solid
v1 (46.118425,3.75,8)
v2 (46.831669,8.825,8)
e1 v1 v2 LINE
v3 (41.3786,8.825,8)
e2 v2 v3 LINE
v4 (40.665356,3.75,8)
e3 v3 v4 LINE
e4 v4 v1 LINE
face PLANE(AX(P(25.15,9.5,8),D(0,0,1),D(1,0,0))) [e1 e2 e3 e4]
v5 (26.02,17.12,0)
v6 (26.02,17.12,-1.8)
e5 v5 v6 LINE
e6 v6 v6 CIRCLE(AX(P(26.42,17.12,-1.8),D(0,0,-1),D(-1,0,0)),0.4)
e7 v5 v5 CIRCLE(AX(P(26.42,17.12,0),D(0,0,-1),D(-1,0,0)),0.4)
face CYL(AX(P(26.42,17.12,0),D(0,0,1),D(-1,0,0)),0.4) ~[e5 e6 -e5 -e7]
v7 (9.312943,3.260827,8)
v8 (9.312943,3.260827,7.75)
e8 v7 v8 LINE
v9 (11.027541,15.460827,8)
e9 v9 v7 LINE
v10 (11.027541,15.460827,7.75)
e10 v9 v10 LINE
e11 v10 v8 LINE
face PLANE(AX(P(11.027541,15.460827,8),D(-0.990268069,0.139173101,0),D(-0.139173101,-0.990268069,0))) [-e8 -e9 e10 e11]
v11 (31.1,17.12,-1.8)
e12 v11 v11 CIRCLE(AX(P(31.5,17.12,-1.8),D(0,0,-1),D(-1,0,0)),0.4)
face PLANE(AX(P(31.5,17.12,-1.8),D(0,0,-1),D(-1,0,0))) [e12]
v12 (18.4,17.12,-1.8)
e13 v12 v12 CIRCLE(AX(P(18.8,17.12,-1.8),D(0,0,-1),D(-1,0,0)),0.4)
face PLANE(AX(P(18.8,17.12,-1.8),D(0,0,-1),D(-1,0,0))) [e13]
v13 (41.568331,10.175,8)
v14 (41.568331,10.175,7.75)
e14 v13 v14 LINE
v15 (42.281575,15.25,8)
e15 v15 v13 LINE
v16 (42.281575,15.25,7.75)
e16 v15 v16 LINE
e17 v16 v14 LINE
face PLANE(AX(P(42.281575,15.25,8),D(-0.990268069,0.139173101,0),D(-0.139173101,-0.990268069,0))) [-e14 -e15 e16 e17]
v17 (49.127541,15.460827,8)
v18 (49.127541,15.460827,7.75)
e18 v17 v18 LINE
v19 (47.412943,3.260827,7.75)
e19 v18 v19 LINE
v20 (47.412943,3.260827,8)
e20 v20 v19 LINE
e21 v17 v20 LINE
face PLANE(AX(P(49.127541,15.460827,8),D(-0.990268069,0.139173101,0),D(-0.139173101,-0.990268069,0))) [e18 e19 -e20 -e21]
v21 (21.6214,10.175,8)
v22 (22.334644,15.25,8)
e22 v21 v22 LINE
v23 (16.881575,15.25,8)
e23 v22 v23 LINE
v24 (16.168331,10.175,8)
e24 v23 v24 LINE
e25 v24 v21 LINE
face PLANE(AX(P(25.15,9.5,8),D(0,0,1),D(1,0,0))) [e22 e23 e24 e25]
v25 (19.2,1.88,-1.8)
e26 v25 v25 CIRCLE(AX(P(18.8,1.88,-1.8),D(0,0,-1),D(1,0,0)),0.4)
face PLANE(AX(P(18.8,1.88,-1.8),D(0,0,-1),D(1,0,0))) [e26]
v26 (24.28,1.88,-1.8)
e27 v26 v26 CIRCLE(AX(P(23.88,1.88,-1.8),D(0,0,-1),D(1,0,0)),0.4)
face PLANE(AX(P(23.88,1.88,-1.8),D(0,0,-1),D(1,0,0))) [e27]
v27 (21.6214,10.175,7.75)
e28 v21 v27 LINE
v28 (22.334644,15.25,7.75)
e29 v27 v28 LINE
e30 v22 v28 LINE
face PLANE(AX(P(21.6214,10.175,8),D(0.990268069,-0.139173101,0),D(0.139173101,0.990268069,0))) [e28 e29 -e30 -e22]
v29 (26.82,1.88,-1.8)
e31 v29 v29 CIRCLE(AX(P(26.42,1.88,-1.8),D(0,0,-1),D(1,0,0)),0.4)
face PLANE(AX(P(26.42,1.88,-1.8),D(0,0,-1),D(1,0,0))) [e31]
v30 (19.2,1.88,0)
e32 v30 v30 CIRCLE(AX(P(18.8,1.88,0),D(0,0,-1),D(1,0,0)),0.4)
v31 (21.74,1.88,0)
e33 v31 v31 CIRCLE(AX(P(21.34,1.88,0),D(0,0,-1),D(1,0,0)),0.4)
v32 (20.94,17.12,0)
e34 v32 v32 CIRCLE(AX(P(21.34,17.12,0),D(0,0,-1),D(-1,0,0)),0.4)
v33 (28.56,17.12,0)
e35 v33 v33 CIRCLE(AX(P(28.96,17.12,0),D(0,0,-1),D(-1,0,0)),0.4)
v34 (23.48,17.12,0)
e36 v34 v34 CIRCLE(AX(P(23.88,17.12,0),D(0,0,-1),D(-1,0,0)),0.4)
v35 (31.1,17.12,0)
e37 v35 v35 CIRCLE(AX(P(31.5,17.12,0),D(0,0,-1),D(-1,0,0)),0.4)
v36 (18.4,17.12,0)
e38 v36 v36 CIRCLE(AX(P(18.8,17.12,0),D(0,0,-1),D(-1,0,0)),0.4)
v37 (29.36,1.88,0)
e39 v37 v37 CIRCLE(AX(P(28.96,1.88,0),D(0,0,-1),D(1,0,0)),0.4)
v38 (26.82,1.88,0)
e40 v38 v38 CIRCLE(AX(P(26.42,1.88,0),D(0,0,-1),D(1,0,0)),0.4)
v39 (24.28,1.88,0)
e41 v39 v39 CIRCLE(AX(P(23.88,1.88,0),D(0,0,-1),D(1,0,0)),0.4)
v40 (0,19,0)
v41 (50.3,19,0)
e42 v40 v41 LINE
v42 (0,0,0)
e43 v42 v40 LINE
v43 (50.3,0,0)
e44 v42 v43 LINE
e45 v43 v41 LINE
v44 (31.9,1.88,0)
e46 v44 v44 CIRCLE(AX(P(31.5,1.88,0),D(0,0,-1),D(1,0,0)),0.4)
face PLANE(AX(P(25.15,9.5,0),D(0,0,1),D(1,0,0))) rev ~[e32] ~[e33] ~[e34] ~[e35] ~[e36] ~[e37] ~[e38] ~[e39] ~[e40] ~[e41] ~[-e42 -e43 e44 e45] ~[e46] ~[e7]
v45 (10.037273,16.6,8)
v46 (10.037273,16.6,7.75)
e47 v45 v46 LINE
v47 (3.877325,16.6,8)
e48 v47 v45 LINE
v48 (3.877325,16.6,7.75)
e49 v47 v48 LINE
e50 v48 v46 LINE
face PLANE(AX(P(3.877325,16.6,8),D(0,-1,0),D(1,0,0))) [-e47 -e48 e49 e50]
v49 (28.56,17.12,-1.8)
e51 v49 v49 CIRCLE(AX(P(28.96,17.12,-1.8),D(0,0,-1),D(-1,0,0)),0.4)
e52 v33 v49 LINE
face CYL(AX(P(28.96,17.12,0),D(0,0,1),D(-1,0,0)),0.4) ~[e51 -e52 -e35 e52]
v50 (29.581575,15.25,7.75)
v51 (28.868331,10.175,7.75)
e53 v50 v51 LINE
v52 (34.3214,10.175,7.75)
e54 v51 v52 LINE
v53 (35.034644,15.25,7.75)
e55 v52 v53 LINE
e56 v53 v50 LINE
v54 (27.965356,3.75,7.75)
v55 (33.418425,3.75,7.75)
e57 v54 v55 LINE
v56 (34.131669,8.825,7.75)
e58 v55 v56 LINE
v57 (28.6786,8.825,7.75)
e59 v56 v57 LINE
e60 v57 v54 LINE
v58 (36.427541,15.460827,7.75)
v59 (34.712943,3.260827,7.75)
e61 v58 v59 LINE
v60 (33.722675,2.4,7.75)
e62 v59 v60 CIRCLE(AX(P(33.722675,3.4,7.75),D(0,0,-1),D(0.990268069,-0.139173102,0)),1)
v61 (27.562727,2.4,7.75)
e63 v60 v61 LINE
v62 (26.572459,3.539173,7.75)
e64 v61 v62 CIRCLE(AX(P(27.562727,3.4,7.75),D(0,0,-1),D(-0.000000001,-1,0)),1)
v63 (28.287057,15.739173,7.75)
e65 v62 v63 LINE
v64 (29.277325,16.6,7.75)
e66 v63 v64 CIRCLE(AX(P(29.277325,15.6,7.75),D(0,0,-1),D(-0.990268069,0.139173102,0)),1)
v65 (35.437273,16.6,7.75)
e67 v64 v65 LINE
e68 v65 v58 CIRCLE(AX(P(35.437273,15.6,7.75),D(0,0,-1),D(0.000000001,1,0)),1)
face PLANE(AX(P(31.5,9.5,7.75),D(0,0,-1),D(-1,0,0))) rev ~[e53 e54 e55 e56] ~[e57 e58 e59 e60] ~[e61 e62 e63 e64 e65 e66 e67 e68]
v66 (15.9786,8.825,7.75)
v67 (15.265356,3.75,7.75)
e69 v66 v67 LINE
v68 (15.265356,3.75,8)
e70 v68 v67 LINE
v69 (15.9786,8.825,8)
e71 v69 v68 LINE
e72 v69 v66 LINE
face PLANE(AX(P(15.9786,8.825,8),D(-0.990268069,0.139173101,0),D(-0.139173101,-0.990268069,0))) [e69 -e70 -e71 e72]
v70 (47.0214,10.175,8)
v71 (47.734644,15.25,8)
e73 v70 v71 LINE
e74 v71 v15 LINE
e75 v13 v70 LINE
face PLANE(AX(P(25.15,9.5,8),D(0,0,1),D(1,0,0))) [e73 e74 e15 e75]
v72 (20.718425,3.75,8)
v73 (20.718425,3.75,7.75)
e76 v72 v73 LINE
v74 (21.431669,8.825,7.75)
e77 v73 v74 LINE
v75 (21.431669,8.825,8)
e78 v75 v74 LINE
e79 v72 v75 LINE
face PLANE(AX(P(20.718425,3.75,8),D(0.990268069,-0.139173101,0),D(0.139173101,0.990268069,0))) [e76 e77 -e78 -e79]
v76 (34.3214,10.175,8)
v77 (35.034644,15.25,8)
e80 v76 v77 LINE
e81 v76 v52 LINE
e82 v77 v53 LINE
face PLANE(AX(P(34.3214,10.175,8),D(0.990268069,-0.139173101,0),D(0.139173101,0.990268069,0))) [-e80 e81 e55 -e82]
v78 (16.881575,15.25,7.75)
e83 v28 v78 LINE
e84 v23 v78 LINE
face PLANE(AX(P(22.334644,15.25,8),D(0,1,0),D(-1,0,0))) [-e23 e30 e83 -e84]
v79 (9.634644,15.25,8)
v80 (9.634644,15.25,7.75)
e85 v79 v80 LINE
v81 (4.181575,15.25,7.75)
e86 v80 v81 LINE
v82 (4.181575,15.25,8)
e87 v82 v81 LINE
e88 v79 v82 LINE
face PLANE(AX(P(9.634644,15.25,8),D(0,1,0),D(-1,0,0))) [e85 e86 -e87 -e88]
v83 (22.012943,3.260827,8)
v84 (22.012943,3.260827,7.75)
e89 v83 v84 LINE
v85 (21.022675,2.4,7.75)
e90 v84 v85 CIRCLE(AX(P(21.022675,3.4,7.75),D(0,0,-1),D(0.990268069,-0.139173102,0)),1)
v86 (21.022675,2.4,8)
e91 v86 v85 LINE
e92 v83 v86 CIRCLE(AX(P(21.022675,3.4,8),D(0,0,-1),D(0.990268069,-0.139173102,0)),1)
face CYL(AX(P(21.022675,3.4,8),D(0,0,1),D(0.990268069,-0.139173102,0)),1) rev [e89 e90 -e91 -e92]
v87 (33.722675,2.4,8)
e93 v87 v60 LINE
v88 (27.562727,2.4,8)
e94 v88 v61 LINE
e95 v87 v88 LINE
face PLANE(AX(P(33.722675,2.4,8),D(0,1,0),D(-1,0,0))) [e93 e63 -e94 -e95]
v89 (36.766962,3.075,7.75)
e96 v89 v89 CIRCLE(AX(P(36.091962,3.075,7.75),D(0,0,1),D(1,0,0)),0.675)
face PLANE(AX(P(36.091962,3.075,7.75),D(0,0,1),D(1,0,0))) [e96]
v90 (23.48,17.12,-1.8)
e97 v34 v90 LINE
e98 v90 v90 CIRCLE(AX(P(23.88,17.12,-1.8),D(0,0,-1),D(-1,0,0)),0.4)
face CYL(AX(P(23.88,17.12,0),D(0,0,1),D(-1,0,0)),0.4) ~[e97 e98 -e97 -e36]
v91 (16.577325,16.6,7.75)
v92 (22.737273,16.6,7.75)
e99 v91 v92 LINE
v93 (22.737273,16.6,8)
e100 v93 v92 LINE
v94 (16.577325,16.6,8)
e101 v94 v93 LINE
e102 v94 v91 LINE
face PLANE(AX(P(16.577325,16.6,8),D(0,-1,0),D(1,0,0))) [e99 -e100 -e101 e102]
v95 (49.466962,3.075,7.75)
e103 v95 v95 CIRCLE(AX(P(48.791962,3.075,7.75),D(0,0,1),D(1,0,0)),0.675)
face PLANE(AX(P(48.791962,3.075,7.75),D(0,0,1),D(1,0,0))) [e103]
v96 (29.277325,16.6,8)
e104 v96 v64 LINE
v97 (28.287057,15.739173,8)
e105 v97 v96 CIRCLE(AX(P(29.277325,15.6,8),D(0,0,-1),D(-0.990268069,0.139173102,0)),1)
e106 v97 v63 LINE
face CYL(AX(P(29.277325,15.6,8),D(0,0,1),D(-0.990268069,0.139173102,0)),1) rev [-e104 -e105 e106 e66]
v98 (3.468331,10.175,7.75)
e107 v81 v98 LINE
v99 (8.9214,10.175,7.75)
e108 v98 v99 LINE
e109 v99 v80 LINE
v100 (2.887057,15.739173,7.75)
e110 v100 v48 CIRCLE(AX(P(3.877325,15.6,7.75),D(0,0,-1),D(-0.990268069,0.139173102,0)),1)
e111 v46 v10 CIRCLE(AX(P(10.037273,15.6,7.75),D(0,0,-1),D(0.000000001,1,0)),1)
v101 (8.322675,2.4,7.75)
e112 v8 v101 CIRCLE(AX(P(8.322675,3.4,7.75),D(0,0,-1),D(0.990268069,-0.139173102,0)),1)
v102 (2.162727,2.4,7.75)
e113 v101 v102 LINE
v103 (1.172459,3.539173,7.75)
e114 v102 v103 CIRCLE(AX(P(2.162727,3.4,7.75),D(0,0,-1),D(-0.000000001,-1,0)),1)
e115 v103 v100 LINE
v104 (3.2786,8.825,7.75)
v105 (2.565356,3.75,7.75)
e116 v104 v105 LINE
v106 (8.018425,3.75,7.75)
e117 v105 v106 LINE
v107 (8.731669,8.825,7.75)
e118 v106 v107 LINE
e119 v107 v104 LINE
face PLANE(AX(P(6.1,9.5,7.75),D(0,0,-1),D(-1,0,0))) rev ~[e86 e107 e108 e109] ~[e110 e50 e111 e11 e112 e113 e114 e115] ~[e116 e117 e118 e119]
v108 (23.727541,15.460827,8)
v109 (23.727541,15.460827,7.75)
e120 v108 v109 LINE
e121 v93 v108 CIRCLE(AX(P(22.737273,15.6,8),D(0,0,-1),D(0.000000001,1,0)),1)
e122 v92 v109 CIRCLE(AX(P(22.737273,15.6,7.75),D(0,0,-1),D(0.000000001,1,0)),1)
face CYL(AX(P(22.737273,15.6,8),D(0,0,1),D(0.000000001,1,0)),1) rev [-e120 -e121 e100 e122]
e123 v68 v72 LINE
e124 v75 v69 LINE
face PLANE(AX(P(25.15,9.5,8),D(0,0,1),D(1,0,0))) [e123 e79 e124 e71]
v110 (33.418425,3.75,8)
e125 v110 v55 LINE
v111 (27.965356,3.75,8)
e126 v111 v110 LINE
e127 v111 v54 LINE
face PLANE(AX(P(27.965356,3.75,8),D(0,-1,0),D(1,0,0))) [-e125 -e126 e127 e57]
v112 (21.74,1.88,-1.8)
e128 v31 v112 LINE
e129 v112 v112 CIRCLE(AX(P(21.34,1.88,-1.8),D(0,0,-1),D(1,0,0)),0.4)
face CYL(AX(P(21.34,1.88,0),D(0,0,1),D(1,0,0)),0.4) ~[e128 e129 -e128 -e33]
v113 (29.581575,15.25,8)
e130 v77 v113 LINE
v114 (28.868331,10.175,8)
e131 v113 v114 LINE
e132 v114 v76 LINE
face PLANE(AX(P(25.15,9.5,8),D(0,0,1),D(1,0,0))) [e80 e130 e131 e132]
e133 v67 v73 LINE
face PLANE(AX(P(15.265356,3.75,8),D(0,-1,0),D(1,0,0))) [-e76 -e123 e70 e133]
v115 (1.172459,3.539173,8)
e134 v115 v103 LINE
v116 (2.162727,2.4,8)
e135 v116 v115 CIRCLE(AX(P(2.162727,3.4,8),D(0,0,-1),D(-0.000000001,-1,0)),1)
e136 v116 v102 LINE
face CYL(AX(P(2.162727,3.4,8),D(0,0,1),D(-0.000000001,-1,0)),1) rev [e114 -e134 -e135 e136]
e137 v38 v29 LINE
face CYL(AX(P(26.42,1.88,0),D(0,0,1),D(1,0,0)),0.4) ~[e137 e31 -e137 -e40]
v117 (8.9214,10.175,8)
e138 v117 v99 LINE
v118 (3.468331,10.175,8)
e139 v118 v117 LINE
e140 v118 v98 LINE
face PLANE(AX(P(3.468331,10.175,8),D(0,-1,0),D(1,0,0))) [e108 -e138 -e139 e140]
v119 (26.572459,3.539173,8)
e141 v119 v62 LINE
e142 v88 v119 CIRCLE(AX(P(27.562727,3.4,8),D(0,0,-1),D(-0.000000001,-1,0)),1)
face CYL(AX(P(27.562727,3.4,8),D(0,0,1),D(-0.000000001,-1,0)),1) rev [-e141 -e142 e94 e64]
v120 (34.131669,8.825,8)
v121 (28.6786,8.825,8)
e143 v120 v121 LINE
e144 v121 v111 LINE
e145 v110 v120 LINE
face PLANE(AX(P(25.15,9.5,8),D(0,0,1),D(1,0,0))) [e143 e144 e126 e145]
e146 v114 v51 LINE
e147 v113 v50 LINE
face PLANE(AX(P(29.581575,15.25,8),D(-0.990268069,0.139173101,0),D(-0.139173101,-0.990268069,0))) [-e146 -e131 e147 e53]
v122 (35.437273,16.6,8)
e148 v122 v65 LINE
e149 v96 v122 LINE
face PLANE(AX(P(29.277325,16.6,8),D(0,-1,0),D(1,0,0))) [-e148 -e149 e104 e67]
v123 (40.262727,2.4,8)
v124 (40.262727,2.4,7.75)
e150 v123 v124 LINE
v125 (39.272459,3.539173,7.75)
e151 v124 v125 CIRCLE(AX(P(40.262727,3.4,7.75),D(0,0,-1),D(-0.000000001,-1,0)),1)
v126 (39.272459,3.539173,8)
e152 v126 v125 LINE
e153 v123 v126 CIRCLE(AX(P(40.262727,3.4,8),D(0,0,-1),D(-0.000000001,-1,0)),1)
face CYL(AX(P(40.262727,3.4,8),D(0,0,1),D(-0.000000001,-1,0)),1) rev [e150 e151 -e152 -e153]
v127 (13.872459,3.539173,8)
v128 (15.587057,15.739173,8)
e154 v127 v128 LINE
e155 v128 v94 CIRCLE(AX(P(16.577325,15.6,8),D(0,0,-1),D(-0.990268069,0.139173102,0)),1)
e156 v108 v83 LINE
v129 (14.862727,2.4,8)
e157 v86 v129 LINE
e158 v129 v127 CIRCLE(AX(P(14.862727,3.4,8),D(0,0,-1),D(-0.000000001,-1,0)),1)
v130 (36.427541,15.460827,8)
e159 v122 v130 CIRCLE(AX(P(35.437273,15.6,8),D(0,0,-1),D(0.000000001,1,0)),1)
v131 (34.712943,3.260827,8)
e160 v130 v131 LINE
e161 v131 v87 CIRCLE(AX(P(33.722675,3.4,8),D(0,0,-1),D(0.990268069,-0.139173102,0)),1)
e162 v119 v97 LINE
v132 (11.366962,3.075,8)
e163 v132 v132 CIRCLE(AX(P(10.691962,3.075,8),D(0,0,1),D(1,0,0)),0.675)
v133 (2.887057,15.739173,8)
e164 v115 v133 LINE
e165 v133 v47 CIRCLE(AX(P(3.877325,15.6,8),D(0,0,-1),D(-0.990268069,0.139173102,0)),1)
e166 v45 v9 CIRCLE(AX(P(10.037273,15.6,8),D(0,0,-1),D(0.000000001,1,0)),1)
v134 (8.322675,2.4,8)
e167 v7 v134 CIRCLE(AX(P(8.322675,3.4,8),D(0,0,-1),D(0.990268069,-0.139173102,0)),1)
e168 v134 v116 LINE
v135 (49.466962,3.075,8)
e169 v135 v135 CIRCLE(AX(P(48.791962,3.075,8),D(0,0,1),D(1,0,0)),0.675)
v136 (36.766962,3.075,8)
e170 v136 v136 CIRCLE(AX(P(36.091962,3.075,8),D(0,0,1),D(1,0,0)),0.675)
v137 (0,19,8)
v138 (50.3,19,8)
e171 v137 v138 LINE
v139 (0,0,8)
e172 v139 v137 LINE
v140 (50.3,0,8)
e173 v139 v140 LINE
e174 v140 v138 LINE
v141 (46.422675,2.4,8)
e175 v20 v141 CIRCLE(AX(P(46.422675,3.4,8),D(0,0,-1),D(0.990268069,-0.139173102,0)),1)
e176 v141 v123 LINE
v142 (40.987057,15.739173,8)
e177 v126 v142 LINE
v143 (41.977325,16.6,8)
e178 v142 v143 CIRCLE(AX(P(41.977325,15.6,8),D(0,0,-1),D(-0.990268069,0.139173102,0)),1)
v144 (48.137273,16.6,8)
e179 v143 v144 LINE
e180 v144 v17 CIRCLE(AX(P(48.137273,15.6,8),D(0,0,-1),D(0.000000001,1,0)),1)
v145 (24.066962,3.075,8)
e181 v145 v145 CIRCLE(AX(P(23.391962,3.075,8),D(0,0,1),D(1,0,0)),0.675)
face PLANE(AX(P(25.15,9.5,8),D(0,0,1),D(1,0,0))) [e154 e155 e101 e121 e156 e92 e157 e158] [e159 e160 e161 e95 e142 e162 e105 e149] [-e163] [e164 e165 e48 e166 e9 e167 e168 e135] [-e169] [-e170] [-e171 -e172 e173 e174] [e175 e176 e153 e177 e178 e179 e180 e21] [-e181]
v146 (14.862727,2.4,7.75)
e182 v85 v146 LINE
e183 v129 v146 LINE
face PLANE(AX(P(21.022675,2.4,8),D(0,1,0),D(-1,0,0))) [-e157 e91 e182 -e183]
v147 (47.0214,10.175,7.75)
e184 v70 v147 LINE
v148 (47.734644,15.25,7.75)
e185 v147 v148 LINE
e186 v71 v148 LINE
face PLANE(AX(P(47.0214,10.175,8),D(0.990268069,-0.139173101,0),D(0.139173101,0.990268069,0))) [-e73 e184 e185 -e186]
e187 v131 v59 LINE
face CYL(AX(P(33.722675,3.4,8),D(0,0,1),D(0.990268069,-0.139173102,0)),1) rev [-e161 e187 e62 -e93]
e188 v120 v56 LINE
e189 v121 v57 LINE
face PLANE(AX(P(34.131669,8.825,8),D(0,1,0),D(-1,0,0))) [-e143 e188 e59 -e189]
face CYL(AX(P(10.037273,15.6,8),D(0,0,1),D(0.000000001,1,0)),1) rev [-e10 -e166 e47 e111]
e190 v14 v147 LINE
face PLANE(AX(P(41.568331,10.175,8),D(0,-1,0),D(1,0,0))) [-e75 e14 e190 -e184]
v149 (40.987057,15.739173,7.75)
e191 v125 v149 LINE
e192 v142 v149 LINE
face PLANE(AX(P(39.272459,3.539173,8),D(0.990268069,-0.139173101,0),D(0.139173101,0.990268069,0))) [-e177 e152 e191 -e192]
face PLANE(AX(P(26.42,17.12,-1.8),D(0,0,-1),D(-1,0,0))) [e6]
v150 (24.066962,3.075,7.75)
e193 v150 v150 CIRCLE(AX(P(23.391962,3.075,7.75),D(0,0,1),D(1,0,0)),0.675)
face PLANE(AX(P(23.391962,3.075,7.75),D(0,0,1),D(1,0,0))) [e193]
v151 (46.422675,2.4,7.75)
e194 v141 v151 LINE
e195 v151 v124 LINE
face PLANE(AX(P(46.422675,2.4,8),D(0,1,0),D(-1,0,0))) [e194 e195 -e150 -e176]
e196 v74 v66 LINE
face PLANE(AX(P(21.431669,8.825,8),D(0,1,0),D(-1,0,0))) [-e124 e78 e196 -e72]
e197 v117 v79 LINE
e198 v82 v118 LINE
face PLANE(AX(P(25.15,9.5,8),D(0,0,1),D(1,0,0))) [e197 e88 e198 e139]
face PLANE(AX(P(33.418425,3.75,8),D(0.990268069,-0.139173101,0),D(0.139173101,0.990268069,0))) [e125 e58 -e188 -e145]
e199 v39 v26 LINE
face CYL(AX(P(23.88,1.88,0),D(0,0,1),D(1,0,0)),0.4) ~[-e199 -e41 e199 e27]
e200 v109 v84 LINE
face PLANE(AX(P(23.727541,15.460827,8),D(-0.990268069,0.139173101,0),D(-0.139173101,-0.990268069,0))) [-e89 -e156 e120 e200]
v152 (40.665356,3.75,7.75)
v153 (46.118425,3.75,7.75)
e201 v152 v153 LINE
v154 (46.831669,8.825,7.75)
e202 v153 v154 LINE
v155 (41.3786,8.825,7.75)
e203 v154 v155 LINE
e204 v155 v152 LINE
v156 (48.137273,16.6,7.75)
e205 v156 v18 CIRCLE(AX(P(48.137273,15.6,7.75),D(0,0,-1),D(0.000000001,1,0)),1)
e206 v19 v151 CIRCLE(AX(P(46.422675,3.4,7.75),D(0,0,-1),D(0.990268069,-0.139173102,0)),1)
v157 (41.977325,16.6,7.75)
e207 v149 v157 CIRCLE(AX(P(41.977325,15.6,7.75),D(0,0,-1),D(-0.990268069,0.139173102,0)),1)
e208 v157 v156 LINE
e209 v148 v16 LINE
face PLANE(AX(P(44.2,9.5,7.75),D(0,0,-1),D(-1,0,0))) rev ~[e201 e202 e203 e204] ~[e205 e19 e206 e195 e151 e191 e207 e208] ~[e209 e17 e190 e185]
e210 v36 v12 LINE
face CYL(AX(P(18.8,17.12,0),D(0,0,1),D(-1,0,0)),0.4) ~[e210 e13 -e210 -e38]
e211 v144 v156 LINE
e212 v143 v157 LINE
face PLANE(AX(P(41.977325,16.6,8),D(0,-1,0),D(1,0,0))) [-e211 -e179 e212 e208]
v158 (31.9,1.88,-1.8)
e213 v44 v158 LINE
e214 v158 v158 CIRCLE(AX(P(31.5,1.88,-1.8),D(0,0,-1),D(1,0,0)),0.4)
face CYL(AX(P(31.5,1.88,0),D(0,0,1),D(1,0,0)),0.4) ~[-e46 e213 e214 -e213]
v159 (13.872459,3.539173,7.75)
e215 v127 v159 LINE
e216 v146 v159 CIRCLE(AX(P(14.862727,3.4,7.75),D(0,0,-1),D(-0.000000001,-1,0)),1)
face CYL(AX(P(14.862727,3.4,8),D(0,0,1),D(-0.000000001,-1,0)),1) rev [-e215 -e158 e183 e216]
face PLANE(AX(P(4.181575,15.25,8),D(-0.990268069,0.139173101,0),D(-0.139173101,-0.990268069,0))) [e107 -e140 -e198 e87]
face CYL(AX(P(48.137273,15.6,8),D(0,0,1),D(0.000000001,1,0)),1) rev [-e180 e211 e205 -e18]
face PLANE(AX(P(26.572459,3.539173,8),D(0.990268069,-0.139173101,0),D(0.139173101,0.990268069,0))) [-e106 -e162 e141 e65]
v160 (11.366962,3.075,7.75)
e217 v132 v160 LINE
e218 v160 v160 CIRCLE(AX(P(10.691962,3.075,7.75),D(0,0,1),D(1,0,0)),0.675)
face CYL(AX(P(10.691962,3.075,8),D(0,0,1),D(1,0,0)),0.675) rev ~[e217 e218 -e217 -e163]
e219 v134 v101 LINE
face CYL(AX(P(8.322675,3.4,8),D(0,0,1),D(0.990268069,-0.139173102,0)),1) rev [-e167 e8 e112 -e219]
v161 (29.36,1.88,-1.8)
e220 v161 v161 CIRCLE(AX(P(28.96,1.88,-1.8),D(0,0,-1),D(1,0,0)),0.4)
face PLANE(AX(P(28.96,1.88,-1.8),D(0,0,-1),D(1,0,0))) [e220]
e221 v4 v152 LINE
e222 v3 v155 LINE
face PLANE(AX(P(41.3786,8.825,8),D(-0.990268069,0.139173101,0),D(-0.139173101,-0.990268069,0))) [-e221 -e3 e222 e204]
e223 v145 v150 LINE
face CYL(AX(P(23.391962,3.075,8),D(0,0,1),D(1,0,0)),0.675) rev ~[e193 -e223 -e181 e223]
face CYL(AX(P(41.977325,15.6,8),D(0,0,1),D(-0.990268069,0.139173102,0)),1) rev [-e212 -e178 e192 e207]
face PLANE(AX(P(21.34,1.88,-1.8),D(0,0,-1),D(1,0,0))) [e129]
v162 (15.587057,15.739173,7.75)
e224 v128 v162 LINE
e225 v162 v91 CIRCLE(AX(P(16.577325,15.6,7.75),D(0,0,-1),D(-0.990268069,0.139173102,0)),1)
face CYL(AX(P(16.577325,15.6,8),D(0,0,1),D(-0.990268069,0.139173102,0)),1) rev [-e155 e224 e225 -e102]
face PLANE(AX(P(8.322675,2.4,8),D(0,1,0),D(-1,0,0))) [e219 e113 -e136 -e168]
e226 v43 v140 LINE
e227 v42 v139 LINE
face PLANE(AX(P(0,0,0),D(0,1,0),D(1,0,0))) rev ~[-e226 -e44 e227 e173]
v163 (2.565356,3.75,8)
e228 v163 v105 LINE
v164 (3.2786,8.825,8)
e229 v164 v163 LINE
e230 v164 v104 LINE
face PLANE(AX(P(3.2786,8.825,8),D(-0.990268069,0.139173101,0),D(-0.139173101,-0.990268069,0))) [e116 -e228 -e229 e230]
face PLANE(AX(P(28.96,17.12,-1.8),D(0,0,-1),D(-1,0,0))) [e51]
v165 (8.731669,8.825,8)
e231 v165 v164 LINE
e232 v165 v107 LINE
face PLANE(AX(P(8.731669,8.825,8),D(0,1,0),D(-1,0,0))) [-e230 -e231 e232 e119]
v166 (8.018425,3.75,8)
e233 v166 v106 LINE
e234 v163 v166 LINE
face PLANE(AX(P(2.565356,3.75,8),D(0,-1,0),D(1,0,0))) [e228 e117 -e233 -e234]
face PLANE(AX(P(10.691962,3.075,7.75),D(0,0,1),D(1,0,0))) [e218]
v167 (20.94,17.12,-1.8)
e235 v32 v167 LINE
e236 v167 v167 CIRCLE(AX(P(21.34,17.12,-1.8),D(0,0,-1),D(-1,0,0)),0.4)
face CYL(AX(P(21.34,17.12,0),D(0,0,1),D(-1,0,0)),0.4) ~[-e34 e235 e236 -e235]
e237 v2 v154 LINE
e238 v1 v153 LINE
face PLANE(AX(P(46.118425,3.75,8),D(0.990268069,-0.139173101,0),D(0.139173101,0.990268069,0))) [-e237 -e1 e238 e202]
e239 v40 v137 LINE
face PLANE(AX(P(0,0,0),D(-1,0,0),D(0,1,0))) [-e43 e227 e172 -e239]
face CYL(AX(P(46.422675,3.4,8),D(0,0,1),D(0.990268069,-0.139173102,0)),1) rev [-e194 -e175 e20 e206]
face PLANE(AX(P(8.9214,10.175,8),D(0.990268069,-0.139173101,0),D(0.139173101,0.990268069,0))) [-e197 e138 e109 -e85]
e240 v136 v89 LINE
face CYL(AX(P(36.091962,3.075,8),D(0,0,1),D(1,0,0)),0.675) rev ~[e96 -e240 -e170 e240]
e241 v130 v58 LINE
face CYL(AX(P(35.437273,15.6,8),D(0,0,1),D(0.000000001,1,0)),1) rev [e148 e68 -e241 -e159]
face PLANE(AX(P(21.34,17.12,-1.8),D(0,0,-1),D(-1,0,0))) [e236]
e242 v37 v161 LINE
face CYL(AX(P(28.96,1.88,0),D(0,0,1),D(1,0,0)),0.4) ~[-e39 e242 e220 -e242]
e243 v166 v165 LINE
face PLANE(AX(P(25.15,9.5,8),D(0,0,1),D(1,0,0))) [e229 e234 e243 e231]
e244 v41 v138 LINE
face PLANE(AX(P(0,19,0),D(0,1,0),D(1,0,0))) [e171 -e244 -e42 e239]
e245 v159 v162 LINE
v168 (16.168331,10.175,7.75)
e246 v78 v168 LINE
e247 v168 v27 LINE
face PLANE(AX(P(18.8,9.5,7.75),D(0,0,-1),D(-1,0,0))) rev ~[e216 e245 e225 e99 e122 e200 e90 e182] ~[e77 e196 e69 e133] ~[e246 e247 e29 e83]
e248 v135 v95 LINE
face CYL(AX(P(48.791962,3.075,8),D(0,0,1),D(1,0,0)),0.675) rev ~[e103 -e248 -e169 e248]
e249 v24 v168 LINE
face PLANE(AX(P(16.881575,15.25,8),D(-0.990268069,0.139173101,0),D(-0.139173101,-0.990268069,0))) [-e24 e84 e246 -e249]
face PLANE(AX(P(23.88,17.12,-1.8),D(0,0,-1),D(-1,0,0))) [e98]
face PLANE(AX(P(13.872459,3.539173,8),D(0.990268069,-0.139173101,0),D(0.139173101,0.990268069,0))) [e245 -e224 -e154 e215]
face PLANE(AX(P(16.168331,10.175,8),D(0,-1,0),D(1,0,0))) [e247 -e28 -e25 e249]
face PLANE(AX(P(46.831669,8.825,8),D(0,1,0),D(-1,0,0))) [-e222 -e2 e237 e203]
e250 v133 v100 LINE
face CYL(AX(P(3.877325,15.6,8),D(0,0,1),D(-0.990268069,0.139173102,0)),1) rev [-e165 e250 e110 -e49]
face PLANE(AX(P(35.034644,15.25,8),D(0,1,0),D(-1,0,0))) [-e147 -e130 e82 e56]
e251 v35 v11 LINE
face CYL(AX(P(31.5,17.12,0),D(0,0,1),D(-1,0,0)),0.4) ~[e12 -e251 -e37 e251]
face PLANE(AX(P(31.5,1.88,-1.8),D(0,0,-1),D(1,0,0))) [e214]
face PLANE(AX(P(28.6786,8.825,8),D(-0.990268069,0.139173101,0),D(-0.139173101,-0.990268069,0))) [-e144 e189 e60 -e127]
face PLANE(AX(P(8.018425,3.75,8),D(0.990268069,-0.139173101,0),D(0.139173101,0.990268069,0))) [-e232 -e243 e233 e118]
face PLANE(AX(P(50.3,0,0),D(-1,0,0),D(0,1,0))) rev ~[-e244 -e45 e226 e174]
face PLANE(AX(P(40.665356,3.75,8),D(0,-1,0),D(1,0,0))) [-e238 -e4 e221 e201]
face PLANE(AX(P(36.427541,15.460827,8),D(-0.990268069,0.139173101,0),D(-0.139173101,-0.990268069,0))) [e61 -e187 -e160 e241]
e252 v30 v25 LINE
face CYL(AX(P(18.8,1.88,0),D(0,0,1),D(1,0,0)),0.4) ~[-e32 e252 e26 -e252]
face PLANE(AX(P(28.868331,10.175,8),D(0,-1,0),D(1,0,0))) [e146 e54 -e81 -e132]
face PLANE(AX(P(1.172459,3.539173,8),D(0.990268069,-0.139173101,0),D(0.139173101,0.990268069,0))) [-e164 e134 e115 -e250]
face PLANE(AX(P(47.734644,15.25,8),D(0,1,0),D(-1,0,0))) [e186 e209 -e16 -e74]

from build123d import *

# Parameters (mm, degrees)
SKETCH_1_W          = 50.3
SKETCH_1_H          = 19
EXTRUDE_1_DEPTH     = 8
SKETCH_2_R          = 0.4
EXTRUDE_2_DEPTH     = 1.8
SKETCH_3_R          = 0.675
CUT_EXTRUDE_1_DEPTH = 0.25


with BuildPart() as part:
    # 草图1 → 凸台-拉伸1 (new body)
    with BuildSketch(Plane.XY):
        with Locations((25.15, 9.5)):
            Rectangle(SKETCH_1_W, SKETCH_1_H)
    extrude(amount=EXTRUDE_1_DEPTH)

    # 草图2 → 凸台-拉伸2 (add)
    with BuildSketch(Plane(origin=(0, 0, 0), x_dir=(-1, 0, 0), z_dir=(0, 0, -1))):
        with Locations((-31.5, 17.12)):
            Circle(SKETCH_2_R)
        with Locations((-28.96, 17.12)):
            Circle(SKETCH_2_R)
        with Locations((-26.42, 17.12)):
            Circle(SKETCH_2_R)
        with Locations((-23.88, 17.12)):
            Circle(SKETCH_2_R)
        with Locations((-21.34, 17.12)):
            Circle(SKETCH_2_R)
        with Locations((-18.8, 17.12)):
            Circle(SKETCH_2_R)
        with Locations(Location((-18.8, 1.88, 0), (0, 0, 180))):
            Circle(SKETCH_2_R)
        with Locations(Location((-21.34, 1.88, 0), (0, 0, 180))):
            Circle(SKETCH_2_R)
        with Locations(Location((-23.88, 1.88, 0), (0, 0, 180))):
            Circle(SKETCH_2_R)
        with Locations(Location((-26.42, 1.88, 0), (0, 0, 180))):
            Circle(SKETCH_2_R)
        with Locations(Location((-28.96, 1.88, 0), (0, 0, 180))):
            Circle(SKETCH_2_R)
        with Locations(Location((-31.5, 1.88, 0), (0, 0, 180))):
            Circle(SKETCH_2_R)
    extrude(amount=EXTRUDE_2_DEPTH)

    # 草图3 → 切除-拉伸1 (cut)
    # profile 1 of 8: a face of its own
    with BuildSketch(Plane.XY.offset(8)):
        with BuildLine():
            ThreePointArc((9.312943073, 3.260826899), (8.978734033, 2.64529042), (8.322675004, 2.4))
            Line((8.322675004, 2.4), (2.162726812, 2.4))
            ThreePointArc((2.162726812, 2.4), (1.408017232, 2.743940971), (1.172458743, 3.539173101))
            Line((1.172458743, 3.539173101), (2.887056927, 15.739173101))
            ThreePointArc((2.887056927, 15.739173101), (3.221265967, 16.35470958), (3.877324996, 16.6))
            Line((3.877324996, 16.6), (10.037273188, 16.6))
            ThreePointArc((10.037273188, 16.6), (10.791982768, 16.256059029), (11.027541257, 15.460826899))
            Line((11.027541257, 15.460826899), (9.312943073, 3.260826899))
        make_face()
        Polygon((3.468330618, 10.175), (8.921399509, 10.175), (9.634644245, 15.25), (4.181575354, 15.25), align=None, mode=Mode.SUBTRACT)
        Polygon((3.278600491, 8.825), (2.565355755, 3.75), (8.018424646, 3.75), (8.731669382, 8.825), align=None, mode=Mode.SUBTRACT)
    # profile 2 of 8: a face of its own
    with BuildSketch(Plane.XY.offset(8)):
        with BuildLine():
            Line((23.727541257, 15.460826899), (22.012943073, 3.260826899))
            ThreePointArc((22.012943073, 3.260826899), (21.678734033, 2.64529042), (21.022675004, 2.4))
            Line((21.022675004, 2.4), (14.862726812, 2.4))
            ThreePointArc((14.862726812, 2.4), (14.108017232, 2.743940971), (13.872458743, 3.539173101))
            Line((13.872458743, 3.539173101), (15.587056927, 15.739173101))
            ThreePointArc((15.587056927, 15.739173101), (15.921265967, 16.35470958), (16.577324996, 16.6))
            Line((16.577324996, 16.6), (22.737273188, 16.6))
            ThreePointArc((22.737273188, 16.6), (23.491982768, 16.256059029), (23.727541257, 15.460826899))
        make_face()
        Polygon((16.168330618, 10.175), (21.621399509, 10.175), (22.334644245, 15.25), (16.881575354, 15.25), align=None, mode=Mode.SUBTRACT)
        Polygon((15.265355755, 3.75), (20.718424646, 3.75), (21.431669382, 8.825), (15.978600491, 8.825), align=None, mode=Mode.SUBTRACT)
    # profile 3 of 8: a face of its own
    with BuildSketch(Plane.XY.offset(8)):
        with BuildLine():
            Line((36.427541257, 15.460826899), (34.712943073, 3.260826899))
            ThreePointArc((34.712943073, 3.260826899), (34.378734033, 2.64529042), (33.722675004, 2.4))
            Line((33.722675004, 2.4), (27.562726812, 2.4))
            ThreePointArc((27.562726812, 2.4), (26.808017232, 2.743940971), (26.572458743, 3.539173101))
            Line((26.572458743, 3.539173101), (28.287056927, 15.739173101))
            ThreePointArc((28.287056927, 15.739173101), (28.621265967, 16.35470958), (29.277324996, 16.6))
            Line((29.277324996, 16.6), (35.437273188, 16.6))
            ThreePointArc((35.437273188, 16.6), (36.191982768, 16.256059029), (36.427541257, 15.460826899))
        make_face()
        Polygon((28.868330618, 10.175), (34.321399509, 10.175), (35.034644245, 15.25), (29.581575354, 15.25), align=None, mode=Mode.SUBTRACT)
        Polygon((27.965355755, 3.75), (33.418424646, 3.75), (34.131669382, 8.825), (28.678600491, 8.825), align=None, mode=Mode.SUBTRACT)
    # profile 4 of 8: a face of its own
    with BuildSketch(Plane.XY.offset(8)):
        with BuildLine():
            Line((49.127541257, 15.460826899), (47.412943073, 3.260826899))
            ThreePointArc((47.412943073, 3.260826899), (47.078734033, 2.64529042), (46.422675004, 2.4))
            Line((46.422675004, 2.4), (40.262726812, 2.4))
            ThreePointArc((40.262726812, 2.4), (39.508017232, 2.743940971), (39.272458743, 3.539173101))
            Line((39.272458743, 3.539173101), (40.987056927, 15.739173101))
            ThreePointArc((40.987056927, 15.739173101), (41.321265967, 16.35470958), (41.977324996, 16.6))
            Line((41.977324996, 16.6), (48.137273188, 16.6))
            ThreePointArc((48.137273188, 16.6), (48.891982768, 16.256059029), (49.127541257, 15.460826899))
        make_face()
        Polygon((41.568330618, 10.175), (47.021399509, 10.175), (47.734644245, 15.25), (42.281575354, 15.25), align=None, mode=Mode.SUBTRACT)
        Polygon((40.665355755, 3.75), (46.118424646, 3.75), (46.831669382, 8.825), (41.378600491, 8.825), align=None, mode=Mode.SUBTRACT)
    # profile 5 of 8: a face of its own
    with BuildSketch(Plane.XY.offset(8)):
        with Locations((10.691961742, 3.075)):
            Circle(SKETCH_3_R)
    # profile 6 of 8: a face of its own
    with BuildSketch(Plane.XY.offset(8)):
        with Locations((23.391961742, 3.075)):
            Circle(SKETCH_3_R)
    # profile 7 of 8: a face of its own
    with BuildSketch(Plane.XY.offset(8)):
        with Locations((36.091961742, 3.075)):
            Circle(SKETCH_3_R)
    # profile 8 of 8: a face of its own
    with BuildSketch(Plane.XY.offset(8)):
        with Locations((48.791961742, 3.075)):
            Circle(SKETCH_3_R)
    extrude(amount=-CUT_EXTRUDE_1_DEPTH, mode=Mode.SUBTRACT)


solid = part.part
